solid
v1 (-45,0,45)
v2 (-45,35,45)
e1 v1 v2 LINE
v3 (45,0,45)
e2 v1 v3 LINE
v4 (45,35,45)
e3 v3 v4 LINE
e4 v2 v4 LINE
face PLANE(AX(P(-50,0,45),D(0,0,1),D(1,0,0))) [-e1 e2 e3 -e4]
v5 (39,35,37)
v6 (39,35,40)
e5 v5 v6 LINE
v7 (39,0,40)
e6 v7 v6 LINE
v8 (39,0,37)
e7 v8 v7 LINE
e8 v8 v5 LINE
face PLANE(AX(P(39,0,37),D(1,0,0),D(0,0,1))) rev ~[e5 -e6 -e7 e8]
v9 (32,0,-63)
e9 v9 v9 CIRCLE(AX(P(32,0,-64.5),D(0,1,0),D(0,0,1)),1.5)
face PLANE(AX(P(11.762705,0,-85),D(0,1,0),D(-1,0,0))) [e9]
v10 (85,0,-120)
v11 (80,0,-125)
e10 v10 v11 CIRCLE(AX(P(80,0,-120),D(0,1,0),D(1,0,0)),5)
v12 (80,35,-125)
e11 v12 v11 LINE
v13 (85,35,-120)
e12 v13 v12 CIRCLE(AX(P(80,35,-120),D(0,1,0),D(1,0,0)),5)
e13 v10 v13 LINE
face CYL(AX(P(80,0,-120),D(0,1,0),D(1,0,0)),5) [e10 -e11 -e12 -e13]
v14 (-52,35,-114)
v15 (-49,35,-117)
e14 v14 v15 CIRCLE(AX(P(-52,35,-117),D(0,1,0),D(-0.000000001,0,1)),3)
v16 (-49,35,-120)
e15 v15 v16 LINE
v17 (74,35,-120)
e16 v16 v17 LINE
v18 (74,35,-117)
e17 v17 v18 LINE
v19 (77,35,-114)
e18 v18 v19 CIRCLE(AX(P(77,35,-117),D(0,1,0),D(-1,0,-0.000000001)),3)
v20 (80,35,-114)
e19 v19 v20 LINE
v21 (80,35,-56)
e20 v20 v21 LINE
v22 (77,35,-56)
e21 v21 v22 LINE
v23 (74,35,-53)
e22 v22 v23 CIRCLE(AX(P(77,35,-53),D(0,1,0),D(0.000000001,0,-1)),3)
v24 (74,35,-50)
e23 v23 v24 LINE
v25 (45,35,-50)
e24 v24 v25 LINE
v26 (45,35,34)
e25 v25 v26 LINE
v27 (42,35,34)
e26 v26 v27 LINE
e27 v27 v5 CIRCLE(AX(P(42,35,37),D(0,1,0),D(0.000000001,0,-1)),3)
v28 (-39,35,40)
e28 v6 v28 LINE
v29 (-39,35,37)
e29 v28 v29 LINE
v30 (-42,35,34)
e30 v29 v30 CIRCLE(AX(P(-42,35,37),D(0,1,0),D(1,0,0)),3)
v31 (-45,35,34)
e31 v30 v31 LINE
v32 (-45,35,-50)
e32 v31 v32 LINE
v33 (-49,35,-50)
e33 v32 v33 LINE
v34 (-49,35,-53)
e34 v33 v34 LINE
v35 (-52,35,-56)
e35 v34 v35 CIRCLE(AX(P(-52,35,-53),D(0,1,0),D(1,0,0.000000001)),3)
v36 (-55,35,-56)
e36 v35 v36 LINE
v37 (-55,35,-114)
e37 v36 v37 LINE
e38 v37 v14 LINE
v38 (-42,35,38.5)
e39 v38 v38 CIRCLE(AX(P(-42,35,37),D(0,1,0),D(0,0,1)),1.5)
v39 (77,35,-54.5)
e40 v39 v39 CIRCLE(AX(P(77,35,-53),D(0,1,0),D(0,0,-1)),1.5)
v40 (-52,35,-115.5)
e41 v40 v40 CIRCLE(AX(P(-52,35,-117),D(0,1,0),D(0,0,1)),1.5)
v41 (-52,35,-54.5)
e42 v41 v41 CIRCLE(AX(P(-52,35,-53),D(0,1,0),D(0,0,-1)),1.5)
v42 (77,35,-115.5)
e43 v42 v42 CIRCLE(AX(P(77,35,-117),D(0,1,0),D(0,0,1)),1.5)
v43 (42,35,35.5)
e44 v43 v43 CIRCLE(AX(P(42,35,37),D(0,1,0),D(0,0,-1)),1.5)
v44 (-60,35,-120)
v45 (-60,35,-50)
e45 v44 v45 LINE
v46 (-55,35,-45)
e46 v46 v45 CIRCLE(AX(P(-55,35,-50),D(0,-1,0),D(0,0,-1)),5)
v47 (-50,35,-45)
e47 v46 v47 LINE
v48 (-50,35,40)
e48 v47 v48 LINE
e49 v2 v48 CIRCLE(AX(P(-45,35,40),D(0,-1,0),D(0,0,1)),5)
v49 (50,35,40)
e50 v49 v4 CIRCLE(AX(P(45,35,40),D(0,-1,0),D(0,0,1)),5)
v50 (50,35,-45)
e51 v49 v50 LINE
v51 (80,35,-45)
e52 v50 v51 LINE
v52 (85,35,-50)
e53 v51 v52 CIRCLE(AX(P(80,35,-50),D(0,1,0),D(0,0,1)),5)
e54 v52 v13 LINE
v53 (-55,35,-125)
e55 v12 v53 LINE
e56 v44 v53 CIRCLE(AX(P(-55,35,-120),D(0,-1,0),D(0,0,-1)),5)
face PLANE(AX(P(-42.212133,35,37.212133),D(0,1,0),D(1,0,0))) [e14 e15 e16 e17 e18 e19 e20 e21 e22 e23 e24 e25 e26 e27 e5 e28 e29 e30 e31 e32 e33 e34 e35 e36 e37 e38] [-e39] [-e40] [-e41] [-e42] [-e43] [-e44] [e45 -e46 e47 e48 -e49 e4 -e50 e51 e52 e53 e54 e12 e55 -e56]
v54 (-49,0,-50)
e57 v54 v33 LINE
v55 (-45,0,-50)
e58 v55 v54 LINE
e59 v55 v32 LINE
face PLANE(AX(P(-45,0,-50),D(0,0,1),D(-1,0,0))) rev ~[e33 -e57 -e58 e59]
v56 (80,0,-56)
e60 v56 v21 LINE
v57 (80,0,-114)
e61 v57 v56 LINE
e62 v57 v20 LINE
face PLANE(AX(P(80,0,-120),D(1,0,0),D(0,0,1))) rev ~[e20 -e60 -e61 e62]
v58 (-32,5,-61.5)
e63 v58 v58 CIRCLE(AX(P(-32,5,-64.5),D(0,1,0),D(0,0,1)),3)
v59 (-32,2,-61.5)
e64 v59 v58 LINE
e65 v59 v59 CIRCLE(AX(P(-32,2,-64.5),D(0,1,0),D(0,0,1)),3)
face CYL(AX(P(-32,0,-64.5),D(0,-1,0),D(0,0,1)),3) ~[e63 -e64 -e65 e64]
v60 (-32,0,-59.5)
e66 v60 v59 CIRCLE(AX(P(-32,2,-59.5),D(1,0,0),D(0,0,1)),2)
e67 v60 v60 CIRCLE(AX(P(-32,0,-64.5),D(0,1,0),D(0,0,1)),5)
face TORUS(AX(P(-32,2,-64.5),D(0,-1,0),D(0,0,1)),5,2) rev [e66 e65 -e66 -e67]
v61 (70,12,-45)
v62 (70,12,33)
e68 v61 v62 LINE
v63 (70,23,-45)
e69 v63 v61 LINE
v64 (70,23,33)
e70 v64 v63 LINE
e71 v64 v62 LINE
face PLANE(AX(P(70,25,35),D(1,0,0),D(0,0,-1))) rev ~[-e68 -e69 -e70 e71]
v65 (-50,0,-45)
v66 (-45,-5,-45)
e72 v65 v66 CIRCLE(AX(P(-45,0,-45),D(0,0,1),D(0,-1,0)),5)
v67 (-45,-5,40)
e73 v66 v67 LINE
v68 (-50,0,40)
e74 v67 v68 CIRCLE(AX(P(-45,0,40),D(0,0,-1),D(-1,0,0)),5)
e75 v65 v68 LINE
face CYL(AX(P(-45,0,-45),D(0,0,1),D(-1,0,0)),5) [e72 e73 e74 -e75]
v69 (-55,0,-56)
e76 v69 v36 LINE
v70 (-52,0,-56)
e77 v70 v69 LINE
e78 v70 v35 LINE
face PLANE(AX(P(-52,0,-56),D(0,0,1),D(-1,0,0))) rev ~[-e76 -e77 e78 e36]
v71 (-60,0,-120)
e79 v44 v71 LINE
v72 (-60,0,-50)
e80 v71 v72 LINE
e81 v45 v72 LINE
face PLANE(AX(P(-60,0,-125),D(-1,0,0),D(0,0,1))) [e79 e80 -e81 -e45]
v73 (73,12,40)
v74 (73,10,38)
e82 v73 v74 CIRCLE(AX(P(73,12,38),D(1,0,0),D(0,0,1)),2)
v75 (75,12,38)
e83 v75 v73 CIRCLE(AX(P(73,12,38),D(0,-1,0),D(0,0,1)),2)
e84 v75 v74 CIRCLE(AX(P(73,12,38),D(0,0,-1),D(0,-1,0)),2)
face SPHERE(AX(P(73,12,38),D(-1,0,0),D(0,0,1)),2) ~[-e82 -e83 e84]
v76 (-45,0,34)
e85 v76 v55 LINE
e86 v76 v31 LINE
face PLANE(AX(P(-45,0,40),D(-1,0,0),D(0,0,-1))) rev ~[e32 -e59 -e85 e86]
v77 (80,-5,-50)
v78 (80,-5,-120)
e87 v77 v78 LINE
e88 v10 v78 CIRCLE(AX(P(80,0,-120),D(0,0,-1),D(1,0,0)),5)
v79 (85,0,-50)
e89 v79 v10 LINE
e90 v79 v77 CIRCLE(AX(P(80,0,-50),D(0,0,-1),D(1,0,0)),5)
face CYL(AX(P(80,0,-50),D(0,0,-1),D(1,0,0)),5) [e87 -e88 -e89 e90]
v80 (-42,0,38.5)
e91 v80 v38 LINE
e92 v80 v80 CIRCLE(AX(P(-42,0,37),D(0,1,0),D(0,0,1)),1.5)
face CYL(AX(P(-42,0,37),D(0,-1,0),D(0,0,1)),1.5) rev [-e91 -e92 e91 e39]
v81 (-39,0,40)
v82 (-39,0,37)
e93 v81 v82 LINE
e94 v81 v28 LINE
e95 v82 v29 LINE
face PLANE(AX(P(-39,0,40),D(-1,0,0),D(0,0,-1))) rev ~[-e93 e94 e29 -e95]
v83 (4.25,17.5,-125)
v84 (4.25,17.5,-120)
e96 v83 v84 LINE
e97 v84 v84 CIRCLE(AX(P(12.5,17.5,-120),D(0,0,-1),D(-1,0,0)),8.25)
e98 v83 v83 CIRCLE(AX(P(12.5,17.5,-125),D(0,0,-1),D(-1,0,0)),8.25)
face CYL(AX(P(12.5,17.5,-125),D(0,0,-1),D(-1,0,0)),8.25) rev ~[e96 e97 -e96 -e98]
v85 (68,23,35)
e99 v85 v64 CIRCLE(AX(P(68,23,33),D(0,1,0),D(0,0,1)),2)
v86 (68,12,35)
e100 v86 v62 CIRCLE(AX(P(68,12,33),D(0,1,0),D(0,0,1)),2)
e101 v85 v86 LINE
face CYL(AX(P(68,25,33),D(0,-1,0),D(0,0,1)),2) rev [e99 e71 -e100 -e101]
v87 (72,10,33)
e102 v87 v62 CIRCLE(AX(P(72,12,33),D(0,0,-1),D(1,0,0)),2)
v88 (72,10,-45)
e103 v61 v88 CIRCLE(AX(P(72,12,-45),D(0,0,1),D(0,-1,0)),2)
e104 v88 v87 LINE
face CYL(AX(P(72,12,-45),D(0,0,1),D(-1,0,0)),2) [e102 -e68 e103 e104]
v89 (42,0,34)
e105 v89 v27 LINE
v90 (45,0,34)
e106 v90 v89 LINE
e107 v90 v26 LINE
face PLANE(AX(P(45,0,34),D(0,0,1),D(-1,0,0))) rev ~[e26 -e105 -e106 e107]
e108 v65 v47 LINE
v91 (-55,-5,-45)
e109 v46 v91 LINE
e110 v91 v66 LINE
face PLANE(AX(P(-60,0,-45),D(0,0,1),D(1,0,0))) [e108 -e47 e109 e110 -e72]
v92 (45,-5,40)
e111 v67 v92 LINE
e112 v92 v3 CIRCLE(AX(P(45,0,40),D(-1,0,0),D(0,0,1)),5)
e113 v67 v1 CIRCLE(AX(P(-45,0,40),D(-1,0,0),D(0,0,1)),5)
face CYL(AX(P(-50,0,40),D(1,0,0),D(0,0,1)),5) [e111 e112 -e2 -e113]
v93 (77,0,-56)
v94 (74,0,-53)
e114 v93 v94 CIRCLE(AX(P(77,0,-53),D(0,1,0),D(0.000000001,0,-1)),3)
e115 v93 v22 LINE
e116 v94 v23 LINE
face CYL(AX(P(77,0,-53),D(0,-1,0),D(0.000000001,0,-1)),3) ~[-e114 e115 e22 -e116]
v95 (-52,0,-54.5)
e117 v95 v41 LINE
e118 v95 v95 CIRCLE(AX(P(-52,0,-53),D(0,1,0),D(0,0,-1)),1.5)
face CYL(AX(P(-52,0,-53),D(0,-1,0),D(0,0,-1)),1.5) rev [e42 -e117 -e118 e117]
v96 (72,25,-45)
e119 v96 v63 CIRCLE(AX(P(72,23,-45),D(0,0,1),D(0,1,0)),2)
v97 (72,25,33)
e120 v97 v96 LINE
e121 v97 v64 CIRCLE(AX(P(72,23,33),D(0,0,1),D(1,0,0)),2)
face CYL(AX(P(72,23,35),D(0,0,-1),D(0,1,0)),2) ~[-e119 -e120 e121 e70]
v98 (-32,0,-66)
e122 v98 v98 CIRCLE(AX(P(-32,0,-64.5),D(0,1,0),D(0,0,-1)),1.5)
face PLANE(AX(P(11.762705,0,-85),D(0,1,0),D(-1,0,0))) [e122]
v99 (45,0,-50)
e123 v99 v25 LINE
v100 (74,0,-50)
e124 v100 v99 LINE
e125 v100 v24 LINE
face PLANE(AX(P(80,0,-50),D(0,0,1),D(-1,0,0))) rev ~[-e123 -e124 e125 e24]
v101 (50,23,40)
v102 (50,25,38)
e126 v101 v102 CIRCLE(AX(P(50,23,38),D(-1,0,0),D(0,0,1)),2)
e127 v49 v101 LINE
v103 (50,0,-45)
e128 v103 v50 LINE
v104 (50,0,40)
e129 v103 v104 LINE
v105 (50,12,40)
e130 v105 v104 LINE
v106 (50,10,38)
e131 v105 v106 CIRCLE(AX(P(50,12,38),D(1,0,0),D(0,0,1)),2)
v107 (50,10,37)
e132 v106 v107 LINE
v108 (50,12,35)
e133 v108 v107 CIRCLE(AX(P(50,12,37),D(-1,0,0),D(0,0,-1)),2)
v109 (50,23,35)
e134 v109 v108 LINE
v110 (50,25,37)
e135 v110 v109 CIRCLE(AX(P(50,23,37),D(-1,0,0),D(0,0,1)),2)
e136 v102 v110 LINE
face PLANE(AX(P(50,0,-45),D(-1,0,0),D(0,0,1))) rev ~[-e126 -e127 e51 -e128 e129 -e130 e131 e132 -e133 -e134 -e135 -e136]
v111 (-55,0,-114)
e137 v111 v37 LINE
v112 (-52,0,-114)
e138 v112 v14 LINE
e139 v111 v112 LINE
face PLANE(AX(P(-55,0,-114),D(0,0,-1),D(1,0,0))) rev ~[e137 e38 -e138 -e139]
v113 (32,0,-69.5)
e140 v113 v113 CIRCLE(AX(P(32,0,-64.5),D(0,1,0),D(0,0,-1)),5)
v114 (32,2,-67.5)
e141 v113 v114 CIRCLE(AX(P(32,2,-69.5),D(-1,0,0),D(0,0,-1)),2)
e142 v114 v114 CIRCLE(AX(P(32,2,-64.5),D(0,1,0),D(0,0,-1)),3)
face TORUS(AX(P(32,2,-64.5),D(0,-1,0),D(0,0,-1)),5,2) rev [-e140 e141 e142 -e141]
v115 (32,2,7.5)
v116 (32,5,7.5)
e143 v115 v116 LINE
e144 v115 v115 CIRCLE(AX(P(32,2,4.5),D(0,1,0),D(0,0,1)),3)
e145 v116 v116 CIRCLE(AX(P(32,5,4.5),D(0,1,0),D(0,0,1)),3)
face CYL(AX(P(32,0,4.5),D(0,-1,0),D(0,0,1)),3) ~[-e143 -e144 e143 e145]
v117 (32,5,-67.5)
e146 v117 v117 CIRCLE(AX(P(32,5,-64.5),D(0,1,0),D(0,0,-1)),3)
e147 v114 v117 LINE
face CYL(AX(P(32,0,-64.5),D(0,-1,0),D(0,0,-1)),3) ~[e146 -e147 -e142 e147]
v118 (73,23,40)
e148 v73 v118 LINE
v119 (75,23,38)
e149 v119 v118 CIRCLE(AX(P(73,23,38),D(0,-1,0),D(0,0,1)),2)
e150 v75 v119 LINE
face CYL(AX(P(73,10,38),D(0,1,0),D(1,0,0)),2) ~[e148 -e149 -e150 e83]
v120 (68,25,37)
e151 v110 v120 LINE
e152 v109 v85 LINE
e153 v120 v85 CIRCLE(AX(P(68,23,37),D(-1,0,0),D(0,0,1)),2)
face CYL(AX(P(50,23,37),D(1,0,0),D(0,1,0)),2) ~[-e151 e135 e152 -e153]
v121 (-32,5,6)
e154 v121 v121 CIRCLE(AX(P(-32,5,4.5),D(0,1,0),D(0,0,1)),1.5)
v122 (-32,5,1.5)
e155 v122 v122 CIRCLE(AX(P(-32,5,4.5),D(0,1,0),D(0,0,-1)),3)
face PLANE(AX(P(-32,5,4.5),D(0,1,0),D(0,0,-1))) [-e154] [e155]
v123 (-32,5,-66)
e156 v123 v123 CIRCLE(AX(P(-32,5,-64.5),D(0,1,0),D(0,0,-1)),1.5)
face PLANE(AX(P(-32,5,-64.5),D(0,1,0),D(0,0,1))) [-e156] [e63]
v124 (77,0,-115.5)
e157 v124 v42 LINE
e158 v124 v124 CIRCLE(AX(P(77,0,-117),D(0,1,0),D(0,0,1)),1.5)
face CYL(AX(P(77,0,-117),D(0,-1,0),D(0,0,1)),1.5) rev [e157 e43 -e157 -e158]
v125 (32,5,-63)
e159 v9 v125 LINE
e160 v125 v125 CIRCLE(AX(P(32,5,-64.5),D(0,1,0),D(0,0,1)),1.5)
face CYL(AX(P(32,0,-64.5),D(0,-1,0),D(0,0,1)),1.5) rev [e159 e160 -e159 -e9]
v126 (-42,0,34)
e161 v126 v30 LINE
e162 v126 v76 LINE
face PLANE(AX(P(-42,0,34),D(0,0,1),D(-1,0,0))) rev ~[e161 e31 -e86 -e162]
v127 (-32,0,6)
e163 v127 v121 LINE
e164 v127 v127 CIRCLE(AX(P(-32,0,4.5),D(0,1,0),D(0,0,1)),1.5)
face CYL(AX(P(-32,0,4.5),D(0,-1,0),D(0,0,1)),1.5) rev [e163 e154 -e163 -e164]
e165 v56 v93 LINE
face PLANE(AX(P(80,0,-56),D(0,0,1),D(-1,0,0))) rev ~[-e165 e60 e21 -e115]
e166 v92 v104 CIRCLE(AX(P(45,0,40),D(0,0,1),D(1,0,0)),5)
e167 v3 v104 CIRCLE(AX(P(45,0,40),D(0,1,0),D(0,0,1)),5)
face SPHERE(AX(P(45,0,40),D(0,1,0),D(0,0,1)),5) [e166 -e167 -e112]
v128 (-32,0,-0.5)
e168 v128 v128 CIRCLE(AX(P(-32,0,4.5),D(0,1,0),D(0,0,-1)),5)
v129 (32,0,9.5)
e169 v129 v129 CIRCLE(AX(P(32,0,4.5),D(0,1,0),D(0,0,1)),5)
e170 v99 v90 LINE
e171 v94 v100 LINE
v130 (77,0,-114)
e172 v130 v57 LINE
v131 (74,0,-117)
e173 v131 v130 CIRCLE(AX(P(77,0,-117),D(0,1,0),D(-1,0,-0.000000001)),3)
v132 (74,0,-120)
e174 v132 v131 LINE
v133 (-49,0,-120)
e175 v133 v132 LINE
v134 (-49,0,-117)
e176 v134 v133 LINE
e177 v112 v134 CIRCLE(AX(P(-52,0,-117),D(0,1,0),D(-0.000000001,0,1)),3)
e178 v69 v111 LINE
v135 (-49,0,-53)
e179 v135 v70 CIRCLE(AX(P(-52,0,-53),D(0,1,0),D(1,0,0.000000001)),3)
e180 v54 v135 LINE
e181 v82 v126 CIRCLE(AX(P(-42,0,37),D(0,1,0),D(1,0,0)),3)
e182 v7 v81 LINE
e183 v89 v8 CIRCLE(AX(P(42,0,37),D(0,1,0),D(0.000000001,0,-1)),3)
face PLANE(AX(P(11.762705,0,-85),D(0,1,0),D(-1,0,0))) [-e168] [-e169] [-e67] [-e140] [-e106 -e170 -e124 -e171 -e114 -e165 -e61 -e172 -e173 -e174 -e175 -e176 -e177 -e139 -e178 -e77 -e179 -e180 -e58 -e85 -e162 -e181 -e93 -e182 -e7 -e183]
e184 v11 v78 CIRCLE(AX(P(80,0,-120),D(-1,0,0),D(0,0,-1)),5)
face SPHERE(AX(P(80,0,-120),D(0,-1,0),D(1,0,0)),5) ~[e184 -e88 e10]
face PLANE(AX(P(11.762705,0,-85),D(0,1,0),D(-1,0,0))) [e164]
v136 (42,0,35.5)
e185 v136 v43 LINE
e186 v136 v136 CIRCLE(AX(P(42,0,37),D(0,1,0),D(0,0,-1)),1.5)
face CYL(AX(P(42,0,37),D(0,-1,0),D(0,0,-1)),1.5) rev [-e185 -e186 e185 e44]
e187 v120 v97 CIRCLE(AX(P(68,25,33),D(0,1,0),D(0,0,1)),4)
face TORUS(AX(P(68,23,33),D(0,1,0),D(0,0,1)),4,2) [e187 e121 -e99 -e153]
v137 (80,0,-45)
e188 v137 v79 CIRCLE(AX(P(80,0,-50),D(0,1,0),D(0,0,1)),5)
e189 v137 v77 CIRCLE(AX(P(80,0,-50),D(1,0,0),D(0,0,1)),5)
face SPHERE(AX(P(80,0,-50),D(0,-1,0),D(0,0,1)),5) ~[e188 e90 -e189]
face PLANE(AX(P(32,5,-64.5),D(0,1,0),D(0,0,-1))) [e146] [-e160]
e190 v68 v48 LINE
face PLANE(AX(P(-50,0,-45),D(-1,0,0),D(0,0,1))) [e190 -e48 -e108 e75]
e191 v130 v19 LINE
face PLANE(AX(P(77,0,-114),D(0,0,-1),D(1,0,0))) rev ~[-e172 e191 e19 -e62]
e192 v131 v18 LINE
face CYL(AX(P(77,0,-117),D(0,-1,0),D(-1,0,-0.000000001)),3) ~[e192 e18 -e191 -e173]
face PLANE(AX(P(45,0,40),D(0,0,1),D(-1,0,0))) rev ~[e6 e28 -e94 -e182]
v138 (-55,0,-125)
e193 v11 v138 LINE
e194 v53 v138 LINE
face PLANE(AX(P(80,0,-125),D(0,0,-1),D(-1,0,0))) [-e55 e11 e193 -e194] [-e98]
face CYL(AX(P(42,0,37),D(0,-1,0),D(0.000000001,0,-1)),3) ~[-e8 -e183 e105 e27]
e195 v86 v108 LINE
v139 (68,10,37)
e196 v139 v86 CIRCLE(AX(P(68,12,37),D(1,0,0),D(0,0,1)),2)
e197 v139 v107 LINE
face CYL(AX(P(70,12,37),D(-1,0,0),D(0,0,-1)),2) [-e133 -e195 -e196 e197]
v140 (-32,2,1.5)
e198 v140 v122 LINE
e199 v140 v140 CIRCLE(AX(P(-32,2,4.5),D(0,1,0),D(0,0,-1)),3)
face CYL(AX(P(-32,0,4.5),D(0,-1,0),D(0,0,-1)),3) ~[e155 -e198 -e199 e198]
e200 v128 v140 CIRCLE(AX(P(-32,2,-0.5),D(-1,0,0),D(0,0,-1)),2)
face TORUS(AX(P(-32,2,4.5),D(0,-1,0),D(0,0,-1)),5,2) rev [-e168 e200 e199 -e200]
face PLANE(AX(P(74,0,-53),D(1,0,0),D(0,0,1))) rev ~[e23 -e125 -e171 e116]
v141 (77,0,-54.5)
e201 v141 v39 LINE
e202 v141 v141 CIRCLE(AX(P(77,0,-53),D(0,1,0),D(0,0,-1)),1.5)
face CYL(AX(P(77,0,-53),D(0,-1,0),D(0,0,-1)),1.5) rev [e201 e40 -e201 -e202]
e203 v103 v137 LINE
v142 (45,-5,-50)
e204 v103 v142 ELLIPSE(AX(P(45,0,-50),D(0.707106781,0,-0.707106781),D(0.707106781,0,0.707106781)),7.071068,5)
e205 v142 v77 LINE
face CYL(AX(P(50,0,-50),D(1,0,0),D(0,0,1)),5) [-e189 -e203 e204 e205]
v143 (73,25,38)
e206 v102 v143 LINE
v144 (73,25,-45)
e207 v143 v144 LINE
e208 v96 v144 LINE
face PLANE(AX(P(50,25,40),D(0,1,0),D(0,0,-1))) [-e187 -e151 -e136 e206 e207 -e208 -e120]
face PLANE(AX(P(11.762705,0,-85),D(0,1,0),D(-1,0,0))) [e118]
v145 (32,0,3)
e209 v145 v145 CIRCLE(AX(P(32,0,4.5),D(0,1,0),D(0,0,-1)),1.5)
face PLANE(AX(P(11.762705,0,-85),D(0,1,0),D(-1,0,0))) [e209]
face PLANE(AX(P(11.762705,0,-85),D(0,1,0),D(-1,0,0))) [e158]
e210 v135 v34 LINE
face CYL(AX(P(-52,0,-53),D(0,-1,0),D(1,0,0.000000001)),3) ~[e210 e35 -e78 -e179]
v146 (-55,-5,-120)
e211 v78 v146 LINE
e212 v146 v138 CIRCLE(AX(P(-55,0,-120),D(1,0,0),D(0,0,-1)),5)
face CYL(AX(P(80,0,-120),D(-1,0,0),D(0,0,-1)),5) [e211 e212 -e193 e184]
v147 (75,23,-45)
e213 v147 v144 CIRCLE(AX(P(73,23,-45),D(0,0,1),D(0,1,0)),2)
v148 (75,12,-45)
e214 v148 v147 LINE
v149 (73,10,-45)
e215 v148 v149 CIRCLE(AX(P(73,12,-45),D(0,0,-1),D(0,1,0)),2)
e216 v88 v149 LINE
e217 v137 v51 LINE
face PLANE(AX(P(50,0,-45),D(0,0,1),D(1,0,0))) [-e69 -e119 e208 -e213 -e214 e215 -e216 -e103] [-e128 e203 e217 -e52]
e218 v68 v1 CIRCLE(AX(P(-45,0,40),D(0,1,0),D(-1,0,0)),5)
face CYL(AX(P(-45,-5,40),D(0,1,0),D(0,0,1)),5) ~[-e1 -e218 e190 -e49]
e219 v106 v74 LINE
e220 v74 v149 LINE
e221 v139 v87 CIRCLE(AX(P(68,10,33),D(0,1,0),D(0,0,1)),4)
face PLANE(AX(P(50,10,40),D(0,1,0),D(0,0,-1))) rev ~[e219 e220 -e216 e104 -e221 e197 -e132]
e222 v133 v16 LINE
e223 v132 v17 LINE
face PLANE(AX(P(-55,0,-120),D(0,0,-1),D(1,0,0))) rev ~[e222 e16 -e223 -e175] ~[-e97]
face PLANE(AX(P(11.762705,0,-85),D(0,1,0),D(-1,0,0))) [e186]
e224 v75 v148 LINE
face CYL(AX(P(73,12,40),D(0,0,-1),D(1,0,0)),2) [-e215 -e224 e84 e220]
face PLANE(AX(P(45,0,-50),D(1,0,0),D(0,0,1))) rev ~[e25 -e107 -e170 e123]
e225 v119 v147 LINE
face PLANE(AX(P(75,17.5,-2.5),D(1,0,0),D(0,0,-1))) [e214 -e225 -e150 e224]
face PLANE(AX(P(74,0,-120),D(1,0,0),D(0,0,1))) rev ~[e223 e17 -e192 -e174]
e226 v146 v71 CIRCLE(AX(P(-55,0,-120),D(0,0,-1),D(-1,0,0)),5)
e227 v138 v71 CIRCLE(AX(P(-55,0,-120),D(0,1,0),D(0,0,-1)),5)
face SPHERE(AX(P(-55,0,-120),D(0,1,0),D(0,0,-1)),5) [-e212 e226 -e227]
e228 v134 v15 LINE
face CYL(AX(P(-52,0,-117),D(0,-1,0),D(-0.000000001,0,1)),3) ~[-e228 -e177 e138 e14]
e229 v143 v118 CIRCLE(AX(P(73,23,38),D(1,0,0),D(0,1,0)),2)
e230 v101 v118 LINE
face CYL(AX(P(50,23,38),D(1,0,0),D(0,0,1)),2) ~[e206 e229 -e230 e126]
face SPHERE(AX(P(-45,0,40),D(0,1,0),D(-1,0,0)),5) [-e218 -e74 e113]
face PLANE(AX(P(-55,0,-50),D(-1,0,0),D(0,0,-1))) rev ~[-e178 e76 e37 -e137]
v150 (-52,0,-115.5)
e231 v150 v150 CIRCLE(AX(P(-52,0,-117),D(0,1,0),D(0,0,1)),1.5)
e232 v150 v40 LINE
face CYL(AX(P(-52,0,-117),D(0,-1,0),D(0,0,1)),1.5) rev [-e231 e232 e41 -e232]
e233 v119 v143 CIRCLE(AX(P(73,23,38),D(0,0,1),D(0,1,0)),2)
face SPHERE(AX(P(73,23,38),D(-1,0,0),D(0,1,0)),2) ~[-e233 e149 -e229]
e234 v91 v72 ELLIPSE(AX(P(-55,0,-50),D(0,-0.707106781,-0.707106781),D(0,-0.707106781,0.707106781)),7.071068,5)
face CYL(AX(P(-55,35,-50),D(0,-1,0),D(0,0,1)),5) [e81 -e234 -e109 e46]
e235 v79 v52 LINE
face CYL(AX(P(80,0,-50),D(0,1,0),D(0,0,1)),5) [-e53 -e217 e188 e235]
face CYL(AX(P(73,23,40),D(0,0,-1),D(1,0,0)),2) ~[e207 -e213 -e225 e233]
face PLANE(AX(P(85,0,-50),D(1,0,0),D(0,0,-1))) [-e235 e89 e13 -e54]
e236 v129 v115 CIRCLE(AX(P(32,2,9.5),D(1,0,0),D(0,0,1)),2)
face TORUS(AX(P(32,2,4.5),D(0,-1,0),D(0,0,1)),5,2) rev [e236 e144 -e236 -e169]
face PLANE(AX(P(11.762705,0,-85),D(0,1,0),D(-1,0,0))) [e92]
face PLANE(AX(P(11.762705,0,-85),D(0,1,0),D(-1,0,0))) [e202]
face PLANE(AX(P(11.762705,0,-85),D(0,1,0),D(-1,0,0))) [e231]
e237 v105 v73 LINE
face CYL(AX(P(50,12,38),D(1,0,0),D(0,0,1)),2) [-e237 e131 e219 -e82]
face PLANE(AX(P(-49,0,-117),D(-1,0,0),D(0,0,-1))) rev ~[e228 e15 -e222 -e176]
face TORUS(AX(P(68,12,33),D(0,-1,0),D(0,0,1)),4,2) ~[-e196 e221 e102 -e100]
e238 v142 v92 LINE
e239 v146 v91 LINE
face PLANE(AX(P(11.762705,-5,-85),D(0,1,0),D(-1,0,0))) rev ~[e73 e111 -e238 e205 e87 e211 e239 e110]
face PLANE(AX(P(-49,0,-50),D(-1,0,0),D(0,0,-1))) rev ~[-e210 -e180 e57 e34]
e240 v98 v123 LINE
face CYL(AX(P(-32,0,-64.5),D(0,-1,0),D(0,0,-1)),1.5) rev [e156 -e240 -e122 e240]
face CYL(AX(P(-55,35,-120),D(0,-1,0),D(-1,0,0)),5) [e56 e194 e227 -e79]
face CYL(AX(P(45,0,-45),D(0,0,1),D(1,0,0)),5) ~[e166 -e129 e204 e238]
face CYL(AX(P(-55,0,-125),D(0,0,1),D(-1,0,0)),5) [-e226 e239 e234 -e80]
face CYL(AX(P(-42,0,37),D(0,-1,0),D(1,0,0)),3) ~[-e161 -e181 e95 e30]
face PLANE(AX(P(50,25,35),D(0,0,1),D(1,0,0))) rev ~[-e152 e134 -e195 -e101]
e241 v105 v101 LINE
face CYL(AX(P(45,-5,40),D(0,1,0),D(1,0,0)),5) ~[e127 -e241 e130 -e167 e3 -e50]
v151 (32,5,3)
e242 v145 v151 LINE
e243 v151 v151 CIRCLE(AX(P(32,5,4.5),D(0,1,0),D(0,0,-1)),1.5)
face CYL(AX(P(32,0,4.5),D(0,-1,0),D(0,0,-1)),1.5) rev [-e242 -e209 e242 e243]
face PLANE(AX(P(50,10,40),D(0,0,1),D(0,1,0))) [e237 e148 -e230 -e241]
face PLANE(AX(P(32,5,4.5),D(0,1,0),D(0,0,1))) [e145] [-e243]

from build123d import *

# Parameters (mm, degrees)
BOSS_EXTRUDE1_DEPTH = 35
BOSS_EXTRUDE4_START = 5
SKETCH7_W           = 100
SKETCH7_H           = 90
BOSS_EXTRUDE4_DEPTH = 5
FILLET4_R           = 5
SKETCH8_R           = 1.5
BOSS_EXTRUDE5_DEPTH = 35
SKETCH9_R           = 3
SKETCH9_R_2         = 1.5
BOSS_EXTRUDE6_DEPTH = 5
FILLET5_R           = 2
SKETCH10_R          = 8.25
CUT_EXTRUDE1_DEPTH  = 10
SKETCH11_W          = 85
SKETCH11_H          = 15
BOSS_EXTRUDE7_DEPTH = 25
CUT_EXTRUDE2_REACH  = 156.11
SKETCH12_W          = 20
SKETCH12_H          = 80
FILLET6_R           = 2


with BuildPart() as part:
    # Sketch1 → Boss-Extrude1 (new body)
    with BuildSketch(Plane(origin=(0, 0, 0), x_dir=(1, 0, 0), z_dir=(0, 1, 0))):
        with BuildLine():
            Line((-60, 45), (-50, 45))
            Line((-50, 45), (-50, -45))
            Line((-50, -45), (50, -45))
            Line((50, -45), (50, 45))
            Line((50, 45), (60, 45))
            Line((60, 45), (80, 45))
            ThreePointArc((80, 45), (83.535533906, 46.464466094), (85, 50))
            Line((85, 50), (85, 120))
            ThreePointArc((85, 120), (83.535533906, 123.535533906), (80, 125))
            Line((80, 125), (60, 125))
            Line((60, 125), (-60, 125))
            Line((-60, 125), (-60, 45))
        make_face()
        Polygon((60, 50), (45, 50), (45, -40), (-45, -40), (-45, 50), (-55, 50), (-55, 120), (60, 120), (80, 120), (80, 50), align=None, mode=Mode.SUBTRACT)
    extrude(amount=BOSS_EXTRUDE1_DEPTH)

    # Sketch7 → Boss-Extrude4 (add)
    with BuildSketch(Plane.XZ.offset(BOSS_EXTRUDE4_START)):
        with BuildLine():
            Line((-60, -45), (80, -45))
            ThreePointArc((80, -45), (83.535533906, -46.464466094), (85, -50))
            Line((85, -50), (85, -120))
            ThreePointArc((85, -120), (83.535533906, -123.535533906), (80, -125))
            Line((80, -125), (-60, -125))
            Line((-60, -125), (-60, -45))
        make_face()
        Rectangle(SKETCH7_W, SKETCH7_H)
    extrude(amount=-BOSS_EXTRUDE4_DEPTH)

    # Fillet4
    fillet4_edges = [part.edges().sort_by_distance(p)[0] for p in [
        (-60, 15, -45),
        (-50, 15, 45),
        (50, 15, 45),
        (-60, 15, -125),
        (65, -5, -45),
        (83.535533906, -5, -46.464466094),
        (10, -5, -125),
        (83.535533906, -5, -123.535533906),
        (85, -5, -85),
        (-60, -5, -85),
        (-50, -5, 0),
        (0, -5, 45),
        (50, -5, 0),
    ]]
    fillet(fillet4_edges, radius=FILLET4_R)

    # Sketch8 → Boss-Extrude5 (add)
    # profile 1 of 6: a face of its own
    with BuildSketch(Plane(origin=(0, 0, 0), x_dir=(1, 0, 0), z_dir=(0, 1, 0))):
        with BuildLine():
            Line((-45, -40), (-39, -40))
            Line((-39, -40), (-39, -37))
            ThreePointArc((-39, -37), (-39.878679635, -34.878679678), (-41.999999938, -34))
            Line((-41.999999938, -34), (-45, -34))
            Line((-45, -34), (-45, -40))
        make_face()
        with Locations((-42, -37)):
            Circle(SKETCH8_R, mode=Mode.SUBTRACT)
    # profile 2 of 6: a face of its own
    with BuildSketch(Plane(origin=(0, 0, 0), x_dir=(1, 0, 0), z_dir=(0, 1, 0))):
        with BuildLine():
            Line((39, -37), (39, -40))
            Line((39, -40), (45, -40))
            Line((45, -40), (45, -34))
            Line((45, -34), (42, -34))
            ThreePointArc((42, -34), (39.878679656, -34.878679656), (39, -37))
        make_face()
        with Locations((42, -37)):
            Circle(SKETCH8_R, mode=Mode.SUBTRACT)
    # profile 3 of 6: a face of its own
    with BuildSketch(Plane(origin=(0, 0, 0), x_dir=(1, 0, 0), z_dir=(0, 1, 0))):
        with BuildLine():
            Line((-49, 50), (-49, 53))
            ThreePointArc((-49, 53), (-49.878679656, 55.121320344), (-52, 56))
            Line((-52, 56), (-55, 56))
            Line((-55, 56), (-55, 50))
            Line((-55, 50), (-49, 50))
        make_face()
        with Locations((-52, 53)):
            Circle(SKETCH8_R, mode=Mode.SUBTRACT)
    # profile 4 of 6: a face of its own
    with BuildSketch(Plane(origin=(0, 0, 0), x_dir=(1, 0, 0), z_dir=(0, 1, 0))):
        with BuildLine():
            Line((74, 53), (74, 50))
            Line((74, 50), (80, 50))
            Line((80, 50), (80, 56))
            Line((80, 56), (77, 56))
            ThreePointArc((77, 56), (74.878679656, 55.121320344), (74, 53))
        make_face()
        with Locations((77, 53)):
            Circle(SKETCH8_R, mode=Mode.SUBTRACT)
    # profile 5 of 6: a face of its own
    with BuildSketch(Plane(origin=(0, 0, 0), x_dir=(1, 0, 0), z_dir=(0, 1, 0))):
        with BuildLine():
            Line((-55, 114), (-52, 114))
            ThreePointArc((-52, 114), (-49.878679656, 114.878679656), (-49, 117))
            Line((-49, 117), (-49, 120))
            Line((-49, 120), (-55, 120))
            Line((-55, 120), (-55, 114))
        make_face()
        with Locations((-52, 117)):
            Circle(SKETCH8_R, mode=Mode.SUBTRACT)
    # profile 6 of 6: a face of its own
    with BuildSketch(Plane(origin=(0, 0, 0), x_dir=(1, 0, 0), z_dir=(0, 1, 0))):
        with BuildLine():
            Line((77, 114), (80, 114))
            Line((80, 114), (80, 120))
            Line((80, 120), (74, 120))
            Line((74, 120), (74, 117))
            ThreePointArc((74, 117), (74.878679656, 114.878679656), (77, 114))
        make_face()
        with Locations((77, 117)):
            Circle(SKETCH8_R, mode=Mode.SUBTRACT)
    extrude(amount=BOSS_EXTRUDE5_DEPTH)

    # Sketch9 → Boss-Extrude6 (add)
    # profile 1 of 4: a face of its own
    with BuildSketch(Plane(origin=(0, 0, 0), x_dir=(1, 0, 0), z_dir=(0, 1, 0))):
        with Locations((-32, 64.5)):
            Circle(SKETCH9_R)
        with Locations((-32, 64.5)):
            Circle(SKETCH9_R_2, mode=Mode.SUBTRACT)
    # profile 2 of 4: a face of its own
    with BuildSketch(Plane(origin=(0, 0, 0), x_dir=(1, 0, 0), z_dir=(0, 1, 0))):
        with Locations((32, 64.5)):
            Circle(SKETCH9_R)
        with Locations((32, 64.5)):
            Circle(SKETCH9_R_2, mode=Mode.SUBTRACT)
    # profile 3 of 4: a face of its own
    with BuildSketch(Plane(origin=(0, 0, 0), x_dir=(1, 0, 0), z_dir=(0, 1, 0))):
        with Locations((-32, -4.5)):
            Circle(SKETCH9_R)
        with Locations((-32, -4.5)):
            Circle(SKETCH9_R_2, mode=Mode.SUBTRACT)
    # profile 4 of 4: a face of its own
    with BuildSketch(Plane(origin=(0, 0, 0), x_dir=(1, 0, 0), z_dir=(0, 1, 0))):
        with Locations((32, -4.5)):
            Circle(SKETCH9_R)
        with Locations((32, -4.5)):
            Circle(SKETCH9_R_2, mode=Mode.SUBTRACT)
    extrude(amount=BOSS_EXTRUDE6_DEPTH)

    # Fillet5
    fillet5_edges = [part.edges().sort_by_distance(p)[0] for p in [
        (29, 0, 4.5),
        (-35, 0, 4.5),
        (29, 0, -64.5),
        (-35, 0, -64.5),
    ]]
    fillet(fillet5_edges, radius=FILLET5_R)

    # Sketch10 → Cut-Extrude1 (cut)
    with BuildSketch(Plane(origin=(0, 0, -125), x_dir=(-1, 0, 0), z_dir=(0, 0, -1))):
        with Locations((-12.5, 17.5)):
            Circle(SKETCH10_R)
    extrude(amount=-CUT_EXTRUDE1_DEPTH, mode=Mode.SUBTRACT)

    # Sketch11 → Boss-Extrude7 (add)
    with BuildSketch(Plane(origin=(50, 0, 0), x_dir=(0, 0, -1), z_dir=(1, 0, 0))):
        with Locations((2.5, 17.5)):
            Rectangle(SKETCH11_W, SKETCH11_H)
    extrude(amount=BOSS_EXTRUDE7_DEPTH)

    # Sketch12 → Cut-Extrude2 (cut, up to next)
    with BuildSketch(Plane(origin=(0, 25, 0), x_dir=(1, 0, 0), z_dir=(0, 1, 0)), mode=Mode.PRIVATE) as cut_extrude2_sk1:
        with Locations((60, 5)):
            Rectangle(SKETCH12_W, SKETCH12_H)
    cut_extrude2_tool1 = extrude(cut_extrude2_sk1.sketch, amount=-CUT_EXTRUDE2_REACH, mode=Mode.PRIVATE) & part.part
    add(cut_extrude2_tool1.solids().sort_by_distance((60, 25, -5))[0], mode=Mode.SUBTRACT)

    # Fillet6
    fillet6_edges = [part.edges().sort_by_distance(p)[0] for p in [
        (70, 10, -5),
        (60, 10, 35),
        (70, 17.5, 35),
        (70, 25, -5),
        (60, 25, 35),
        (75, 10, -2.5),
        (62.5, 10, 40),
        (75, 25, -2.5),
        (62.5, 25, 40),
        (75, 17.5, 40),
    ]]
    fillet(fillet6_edges, radius=FILLET6_R)


solid = part.part
